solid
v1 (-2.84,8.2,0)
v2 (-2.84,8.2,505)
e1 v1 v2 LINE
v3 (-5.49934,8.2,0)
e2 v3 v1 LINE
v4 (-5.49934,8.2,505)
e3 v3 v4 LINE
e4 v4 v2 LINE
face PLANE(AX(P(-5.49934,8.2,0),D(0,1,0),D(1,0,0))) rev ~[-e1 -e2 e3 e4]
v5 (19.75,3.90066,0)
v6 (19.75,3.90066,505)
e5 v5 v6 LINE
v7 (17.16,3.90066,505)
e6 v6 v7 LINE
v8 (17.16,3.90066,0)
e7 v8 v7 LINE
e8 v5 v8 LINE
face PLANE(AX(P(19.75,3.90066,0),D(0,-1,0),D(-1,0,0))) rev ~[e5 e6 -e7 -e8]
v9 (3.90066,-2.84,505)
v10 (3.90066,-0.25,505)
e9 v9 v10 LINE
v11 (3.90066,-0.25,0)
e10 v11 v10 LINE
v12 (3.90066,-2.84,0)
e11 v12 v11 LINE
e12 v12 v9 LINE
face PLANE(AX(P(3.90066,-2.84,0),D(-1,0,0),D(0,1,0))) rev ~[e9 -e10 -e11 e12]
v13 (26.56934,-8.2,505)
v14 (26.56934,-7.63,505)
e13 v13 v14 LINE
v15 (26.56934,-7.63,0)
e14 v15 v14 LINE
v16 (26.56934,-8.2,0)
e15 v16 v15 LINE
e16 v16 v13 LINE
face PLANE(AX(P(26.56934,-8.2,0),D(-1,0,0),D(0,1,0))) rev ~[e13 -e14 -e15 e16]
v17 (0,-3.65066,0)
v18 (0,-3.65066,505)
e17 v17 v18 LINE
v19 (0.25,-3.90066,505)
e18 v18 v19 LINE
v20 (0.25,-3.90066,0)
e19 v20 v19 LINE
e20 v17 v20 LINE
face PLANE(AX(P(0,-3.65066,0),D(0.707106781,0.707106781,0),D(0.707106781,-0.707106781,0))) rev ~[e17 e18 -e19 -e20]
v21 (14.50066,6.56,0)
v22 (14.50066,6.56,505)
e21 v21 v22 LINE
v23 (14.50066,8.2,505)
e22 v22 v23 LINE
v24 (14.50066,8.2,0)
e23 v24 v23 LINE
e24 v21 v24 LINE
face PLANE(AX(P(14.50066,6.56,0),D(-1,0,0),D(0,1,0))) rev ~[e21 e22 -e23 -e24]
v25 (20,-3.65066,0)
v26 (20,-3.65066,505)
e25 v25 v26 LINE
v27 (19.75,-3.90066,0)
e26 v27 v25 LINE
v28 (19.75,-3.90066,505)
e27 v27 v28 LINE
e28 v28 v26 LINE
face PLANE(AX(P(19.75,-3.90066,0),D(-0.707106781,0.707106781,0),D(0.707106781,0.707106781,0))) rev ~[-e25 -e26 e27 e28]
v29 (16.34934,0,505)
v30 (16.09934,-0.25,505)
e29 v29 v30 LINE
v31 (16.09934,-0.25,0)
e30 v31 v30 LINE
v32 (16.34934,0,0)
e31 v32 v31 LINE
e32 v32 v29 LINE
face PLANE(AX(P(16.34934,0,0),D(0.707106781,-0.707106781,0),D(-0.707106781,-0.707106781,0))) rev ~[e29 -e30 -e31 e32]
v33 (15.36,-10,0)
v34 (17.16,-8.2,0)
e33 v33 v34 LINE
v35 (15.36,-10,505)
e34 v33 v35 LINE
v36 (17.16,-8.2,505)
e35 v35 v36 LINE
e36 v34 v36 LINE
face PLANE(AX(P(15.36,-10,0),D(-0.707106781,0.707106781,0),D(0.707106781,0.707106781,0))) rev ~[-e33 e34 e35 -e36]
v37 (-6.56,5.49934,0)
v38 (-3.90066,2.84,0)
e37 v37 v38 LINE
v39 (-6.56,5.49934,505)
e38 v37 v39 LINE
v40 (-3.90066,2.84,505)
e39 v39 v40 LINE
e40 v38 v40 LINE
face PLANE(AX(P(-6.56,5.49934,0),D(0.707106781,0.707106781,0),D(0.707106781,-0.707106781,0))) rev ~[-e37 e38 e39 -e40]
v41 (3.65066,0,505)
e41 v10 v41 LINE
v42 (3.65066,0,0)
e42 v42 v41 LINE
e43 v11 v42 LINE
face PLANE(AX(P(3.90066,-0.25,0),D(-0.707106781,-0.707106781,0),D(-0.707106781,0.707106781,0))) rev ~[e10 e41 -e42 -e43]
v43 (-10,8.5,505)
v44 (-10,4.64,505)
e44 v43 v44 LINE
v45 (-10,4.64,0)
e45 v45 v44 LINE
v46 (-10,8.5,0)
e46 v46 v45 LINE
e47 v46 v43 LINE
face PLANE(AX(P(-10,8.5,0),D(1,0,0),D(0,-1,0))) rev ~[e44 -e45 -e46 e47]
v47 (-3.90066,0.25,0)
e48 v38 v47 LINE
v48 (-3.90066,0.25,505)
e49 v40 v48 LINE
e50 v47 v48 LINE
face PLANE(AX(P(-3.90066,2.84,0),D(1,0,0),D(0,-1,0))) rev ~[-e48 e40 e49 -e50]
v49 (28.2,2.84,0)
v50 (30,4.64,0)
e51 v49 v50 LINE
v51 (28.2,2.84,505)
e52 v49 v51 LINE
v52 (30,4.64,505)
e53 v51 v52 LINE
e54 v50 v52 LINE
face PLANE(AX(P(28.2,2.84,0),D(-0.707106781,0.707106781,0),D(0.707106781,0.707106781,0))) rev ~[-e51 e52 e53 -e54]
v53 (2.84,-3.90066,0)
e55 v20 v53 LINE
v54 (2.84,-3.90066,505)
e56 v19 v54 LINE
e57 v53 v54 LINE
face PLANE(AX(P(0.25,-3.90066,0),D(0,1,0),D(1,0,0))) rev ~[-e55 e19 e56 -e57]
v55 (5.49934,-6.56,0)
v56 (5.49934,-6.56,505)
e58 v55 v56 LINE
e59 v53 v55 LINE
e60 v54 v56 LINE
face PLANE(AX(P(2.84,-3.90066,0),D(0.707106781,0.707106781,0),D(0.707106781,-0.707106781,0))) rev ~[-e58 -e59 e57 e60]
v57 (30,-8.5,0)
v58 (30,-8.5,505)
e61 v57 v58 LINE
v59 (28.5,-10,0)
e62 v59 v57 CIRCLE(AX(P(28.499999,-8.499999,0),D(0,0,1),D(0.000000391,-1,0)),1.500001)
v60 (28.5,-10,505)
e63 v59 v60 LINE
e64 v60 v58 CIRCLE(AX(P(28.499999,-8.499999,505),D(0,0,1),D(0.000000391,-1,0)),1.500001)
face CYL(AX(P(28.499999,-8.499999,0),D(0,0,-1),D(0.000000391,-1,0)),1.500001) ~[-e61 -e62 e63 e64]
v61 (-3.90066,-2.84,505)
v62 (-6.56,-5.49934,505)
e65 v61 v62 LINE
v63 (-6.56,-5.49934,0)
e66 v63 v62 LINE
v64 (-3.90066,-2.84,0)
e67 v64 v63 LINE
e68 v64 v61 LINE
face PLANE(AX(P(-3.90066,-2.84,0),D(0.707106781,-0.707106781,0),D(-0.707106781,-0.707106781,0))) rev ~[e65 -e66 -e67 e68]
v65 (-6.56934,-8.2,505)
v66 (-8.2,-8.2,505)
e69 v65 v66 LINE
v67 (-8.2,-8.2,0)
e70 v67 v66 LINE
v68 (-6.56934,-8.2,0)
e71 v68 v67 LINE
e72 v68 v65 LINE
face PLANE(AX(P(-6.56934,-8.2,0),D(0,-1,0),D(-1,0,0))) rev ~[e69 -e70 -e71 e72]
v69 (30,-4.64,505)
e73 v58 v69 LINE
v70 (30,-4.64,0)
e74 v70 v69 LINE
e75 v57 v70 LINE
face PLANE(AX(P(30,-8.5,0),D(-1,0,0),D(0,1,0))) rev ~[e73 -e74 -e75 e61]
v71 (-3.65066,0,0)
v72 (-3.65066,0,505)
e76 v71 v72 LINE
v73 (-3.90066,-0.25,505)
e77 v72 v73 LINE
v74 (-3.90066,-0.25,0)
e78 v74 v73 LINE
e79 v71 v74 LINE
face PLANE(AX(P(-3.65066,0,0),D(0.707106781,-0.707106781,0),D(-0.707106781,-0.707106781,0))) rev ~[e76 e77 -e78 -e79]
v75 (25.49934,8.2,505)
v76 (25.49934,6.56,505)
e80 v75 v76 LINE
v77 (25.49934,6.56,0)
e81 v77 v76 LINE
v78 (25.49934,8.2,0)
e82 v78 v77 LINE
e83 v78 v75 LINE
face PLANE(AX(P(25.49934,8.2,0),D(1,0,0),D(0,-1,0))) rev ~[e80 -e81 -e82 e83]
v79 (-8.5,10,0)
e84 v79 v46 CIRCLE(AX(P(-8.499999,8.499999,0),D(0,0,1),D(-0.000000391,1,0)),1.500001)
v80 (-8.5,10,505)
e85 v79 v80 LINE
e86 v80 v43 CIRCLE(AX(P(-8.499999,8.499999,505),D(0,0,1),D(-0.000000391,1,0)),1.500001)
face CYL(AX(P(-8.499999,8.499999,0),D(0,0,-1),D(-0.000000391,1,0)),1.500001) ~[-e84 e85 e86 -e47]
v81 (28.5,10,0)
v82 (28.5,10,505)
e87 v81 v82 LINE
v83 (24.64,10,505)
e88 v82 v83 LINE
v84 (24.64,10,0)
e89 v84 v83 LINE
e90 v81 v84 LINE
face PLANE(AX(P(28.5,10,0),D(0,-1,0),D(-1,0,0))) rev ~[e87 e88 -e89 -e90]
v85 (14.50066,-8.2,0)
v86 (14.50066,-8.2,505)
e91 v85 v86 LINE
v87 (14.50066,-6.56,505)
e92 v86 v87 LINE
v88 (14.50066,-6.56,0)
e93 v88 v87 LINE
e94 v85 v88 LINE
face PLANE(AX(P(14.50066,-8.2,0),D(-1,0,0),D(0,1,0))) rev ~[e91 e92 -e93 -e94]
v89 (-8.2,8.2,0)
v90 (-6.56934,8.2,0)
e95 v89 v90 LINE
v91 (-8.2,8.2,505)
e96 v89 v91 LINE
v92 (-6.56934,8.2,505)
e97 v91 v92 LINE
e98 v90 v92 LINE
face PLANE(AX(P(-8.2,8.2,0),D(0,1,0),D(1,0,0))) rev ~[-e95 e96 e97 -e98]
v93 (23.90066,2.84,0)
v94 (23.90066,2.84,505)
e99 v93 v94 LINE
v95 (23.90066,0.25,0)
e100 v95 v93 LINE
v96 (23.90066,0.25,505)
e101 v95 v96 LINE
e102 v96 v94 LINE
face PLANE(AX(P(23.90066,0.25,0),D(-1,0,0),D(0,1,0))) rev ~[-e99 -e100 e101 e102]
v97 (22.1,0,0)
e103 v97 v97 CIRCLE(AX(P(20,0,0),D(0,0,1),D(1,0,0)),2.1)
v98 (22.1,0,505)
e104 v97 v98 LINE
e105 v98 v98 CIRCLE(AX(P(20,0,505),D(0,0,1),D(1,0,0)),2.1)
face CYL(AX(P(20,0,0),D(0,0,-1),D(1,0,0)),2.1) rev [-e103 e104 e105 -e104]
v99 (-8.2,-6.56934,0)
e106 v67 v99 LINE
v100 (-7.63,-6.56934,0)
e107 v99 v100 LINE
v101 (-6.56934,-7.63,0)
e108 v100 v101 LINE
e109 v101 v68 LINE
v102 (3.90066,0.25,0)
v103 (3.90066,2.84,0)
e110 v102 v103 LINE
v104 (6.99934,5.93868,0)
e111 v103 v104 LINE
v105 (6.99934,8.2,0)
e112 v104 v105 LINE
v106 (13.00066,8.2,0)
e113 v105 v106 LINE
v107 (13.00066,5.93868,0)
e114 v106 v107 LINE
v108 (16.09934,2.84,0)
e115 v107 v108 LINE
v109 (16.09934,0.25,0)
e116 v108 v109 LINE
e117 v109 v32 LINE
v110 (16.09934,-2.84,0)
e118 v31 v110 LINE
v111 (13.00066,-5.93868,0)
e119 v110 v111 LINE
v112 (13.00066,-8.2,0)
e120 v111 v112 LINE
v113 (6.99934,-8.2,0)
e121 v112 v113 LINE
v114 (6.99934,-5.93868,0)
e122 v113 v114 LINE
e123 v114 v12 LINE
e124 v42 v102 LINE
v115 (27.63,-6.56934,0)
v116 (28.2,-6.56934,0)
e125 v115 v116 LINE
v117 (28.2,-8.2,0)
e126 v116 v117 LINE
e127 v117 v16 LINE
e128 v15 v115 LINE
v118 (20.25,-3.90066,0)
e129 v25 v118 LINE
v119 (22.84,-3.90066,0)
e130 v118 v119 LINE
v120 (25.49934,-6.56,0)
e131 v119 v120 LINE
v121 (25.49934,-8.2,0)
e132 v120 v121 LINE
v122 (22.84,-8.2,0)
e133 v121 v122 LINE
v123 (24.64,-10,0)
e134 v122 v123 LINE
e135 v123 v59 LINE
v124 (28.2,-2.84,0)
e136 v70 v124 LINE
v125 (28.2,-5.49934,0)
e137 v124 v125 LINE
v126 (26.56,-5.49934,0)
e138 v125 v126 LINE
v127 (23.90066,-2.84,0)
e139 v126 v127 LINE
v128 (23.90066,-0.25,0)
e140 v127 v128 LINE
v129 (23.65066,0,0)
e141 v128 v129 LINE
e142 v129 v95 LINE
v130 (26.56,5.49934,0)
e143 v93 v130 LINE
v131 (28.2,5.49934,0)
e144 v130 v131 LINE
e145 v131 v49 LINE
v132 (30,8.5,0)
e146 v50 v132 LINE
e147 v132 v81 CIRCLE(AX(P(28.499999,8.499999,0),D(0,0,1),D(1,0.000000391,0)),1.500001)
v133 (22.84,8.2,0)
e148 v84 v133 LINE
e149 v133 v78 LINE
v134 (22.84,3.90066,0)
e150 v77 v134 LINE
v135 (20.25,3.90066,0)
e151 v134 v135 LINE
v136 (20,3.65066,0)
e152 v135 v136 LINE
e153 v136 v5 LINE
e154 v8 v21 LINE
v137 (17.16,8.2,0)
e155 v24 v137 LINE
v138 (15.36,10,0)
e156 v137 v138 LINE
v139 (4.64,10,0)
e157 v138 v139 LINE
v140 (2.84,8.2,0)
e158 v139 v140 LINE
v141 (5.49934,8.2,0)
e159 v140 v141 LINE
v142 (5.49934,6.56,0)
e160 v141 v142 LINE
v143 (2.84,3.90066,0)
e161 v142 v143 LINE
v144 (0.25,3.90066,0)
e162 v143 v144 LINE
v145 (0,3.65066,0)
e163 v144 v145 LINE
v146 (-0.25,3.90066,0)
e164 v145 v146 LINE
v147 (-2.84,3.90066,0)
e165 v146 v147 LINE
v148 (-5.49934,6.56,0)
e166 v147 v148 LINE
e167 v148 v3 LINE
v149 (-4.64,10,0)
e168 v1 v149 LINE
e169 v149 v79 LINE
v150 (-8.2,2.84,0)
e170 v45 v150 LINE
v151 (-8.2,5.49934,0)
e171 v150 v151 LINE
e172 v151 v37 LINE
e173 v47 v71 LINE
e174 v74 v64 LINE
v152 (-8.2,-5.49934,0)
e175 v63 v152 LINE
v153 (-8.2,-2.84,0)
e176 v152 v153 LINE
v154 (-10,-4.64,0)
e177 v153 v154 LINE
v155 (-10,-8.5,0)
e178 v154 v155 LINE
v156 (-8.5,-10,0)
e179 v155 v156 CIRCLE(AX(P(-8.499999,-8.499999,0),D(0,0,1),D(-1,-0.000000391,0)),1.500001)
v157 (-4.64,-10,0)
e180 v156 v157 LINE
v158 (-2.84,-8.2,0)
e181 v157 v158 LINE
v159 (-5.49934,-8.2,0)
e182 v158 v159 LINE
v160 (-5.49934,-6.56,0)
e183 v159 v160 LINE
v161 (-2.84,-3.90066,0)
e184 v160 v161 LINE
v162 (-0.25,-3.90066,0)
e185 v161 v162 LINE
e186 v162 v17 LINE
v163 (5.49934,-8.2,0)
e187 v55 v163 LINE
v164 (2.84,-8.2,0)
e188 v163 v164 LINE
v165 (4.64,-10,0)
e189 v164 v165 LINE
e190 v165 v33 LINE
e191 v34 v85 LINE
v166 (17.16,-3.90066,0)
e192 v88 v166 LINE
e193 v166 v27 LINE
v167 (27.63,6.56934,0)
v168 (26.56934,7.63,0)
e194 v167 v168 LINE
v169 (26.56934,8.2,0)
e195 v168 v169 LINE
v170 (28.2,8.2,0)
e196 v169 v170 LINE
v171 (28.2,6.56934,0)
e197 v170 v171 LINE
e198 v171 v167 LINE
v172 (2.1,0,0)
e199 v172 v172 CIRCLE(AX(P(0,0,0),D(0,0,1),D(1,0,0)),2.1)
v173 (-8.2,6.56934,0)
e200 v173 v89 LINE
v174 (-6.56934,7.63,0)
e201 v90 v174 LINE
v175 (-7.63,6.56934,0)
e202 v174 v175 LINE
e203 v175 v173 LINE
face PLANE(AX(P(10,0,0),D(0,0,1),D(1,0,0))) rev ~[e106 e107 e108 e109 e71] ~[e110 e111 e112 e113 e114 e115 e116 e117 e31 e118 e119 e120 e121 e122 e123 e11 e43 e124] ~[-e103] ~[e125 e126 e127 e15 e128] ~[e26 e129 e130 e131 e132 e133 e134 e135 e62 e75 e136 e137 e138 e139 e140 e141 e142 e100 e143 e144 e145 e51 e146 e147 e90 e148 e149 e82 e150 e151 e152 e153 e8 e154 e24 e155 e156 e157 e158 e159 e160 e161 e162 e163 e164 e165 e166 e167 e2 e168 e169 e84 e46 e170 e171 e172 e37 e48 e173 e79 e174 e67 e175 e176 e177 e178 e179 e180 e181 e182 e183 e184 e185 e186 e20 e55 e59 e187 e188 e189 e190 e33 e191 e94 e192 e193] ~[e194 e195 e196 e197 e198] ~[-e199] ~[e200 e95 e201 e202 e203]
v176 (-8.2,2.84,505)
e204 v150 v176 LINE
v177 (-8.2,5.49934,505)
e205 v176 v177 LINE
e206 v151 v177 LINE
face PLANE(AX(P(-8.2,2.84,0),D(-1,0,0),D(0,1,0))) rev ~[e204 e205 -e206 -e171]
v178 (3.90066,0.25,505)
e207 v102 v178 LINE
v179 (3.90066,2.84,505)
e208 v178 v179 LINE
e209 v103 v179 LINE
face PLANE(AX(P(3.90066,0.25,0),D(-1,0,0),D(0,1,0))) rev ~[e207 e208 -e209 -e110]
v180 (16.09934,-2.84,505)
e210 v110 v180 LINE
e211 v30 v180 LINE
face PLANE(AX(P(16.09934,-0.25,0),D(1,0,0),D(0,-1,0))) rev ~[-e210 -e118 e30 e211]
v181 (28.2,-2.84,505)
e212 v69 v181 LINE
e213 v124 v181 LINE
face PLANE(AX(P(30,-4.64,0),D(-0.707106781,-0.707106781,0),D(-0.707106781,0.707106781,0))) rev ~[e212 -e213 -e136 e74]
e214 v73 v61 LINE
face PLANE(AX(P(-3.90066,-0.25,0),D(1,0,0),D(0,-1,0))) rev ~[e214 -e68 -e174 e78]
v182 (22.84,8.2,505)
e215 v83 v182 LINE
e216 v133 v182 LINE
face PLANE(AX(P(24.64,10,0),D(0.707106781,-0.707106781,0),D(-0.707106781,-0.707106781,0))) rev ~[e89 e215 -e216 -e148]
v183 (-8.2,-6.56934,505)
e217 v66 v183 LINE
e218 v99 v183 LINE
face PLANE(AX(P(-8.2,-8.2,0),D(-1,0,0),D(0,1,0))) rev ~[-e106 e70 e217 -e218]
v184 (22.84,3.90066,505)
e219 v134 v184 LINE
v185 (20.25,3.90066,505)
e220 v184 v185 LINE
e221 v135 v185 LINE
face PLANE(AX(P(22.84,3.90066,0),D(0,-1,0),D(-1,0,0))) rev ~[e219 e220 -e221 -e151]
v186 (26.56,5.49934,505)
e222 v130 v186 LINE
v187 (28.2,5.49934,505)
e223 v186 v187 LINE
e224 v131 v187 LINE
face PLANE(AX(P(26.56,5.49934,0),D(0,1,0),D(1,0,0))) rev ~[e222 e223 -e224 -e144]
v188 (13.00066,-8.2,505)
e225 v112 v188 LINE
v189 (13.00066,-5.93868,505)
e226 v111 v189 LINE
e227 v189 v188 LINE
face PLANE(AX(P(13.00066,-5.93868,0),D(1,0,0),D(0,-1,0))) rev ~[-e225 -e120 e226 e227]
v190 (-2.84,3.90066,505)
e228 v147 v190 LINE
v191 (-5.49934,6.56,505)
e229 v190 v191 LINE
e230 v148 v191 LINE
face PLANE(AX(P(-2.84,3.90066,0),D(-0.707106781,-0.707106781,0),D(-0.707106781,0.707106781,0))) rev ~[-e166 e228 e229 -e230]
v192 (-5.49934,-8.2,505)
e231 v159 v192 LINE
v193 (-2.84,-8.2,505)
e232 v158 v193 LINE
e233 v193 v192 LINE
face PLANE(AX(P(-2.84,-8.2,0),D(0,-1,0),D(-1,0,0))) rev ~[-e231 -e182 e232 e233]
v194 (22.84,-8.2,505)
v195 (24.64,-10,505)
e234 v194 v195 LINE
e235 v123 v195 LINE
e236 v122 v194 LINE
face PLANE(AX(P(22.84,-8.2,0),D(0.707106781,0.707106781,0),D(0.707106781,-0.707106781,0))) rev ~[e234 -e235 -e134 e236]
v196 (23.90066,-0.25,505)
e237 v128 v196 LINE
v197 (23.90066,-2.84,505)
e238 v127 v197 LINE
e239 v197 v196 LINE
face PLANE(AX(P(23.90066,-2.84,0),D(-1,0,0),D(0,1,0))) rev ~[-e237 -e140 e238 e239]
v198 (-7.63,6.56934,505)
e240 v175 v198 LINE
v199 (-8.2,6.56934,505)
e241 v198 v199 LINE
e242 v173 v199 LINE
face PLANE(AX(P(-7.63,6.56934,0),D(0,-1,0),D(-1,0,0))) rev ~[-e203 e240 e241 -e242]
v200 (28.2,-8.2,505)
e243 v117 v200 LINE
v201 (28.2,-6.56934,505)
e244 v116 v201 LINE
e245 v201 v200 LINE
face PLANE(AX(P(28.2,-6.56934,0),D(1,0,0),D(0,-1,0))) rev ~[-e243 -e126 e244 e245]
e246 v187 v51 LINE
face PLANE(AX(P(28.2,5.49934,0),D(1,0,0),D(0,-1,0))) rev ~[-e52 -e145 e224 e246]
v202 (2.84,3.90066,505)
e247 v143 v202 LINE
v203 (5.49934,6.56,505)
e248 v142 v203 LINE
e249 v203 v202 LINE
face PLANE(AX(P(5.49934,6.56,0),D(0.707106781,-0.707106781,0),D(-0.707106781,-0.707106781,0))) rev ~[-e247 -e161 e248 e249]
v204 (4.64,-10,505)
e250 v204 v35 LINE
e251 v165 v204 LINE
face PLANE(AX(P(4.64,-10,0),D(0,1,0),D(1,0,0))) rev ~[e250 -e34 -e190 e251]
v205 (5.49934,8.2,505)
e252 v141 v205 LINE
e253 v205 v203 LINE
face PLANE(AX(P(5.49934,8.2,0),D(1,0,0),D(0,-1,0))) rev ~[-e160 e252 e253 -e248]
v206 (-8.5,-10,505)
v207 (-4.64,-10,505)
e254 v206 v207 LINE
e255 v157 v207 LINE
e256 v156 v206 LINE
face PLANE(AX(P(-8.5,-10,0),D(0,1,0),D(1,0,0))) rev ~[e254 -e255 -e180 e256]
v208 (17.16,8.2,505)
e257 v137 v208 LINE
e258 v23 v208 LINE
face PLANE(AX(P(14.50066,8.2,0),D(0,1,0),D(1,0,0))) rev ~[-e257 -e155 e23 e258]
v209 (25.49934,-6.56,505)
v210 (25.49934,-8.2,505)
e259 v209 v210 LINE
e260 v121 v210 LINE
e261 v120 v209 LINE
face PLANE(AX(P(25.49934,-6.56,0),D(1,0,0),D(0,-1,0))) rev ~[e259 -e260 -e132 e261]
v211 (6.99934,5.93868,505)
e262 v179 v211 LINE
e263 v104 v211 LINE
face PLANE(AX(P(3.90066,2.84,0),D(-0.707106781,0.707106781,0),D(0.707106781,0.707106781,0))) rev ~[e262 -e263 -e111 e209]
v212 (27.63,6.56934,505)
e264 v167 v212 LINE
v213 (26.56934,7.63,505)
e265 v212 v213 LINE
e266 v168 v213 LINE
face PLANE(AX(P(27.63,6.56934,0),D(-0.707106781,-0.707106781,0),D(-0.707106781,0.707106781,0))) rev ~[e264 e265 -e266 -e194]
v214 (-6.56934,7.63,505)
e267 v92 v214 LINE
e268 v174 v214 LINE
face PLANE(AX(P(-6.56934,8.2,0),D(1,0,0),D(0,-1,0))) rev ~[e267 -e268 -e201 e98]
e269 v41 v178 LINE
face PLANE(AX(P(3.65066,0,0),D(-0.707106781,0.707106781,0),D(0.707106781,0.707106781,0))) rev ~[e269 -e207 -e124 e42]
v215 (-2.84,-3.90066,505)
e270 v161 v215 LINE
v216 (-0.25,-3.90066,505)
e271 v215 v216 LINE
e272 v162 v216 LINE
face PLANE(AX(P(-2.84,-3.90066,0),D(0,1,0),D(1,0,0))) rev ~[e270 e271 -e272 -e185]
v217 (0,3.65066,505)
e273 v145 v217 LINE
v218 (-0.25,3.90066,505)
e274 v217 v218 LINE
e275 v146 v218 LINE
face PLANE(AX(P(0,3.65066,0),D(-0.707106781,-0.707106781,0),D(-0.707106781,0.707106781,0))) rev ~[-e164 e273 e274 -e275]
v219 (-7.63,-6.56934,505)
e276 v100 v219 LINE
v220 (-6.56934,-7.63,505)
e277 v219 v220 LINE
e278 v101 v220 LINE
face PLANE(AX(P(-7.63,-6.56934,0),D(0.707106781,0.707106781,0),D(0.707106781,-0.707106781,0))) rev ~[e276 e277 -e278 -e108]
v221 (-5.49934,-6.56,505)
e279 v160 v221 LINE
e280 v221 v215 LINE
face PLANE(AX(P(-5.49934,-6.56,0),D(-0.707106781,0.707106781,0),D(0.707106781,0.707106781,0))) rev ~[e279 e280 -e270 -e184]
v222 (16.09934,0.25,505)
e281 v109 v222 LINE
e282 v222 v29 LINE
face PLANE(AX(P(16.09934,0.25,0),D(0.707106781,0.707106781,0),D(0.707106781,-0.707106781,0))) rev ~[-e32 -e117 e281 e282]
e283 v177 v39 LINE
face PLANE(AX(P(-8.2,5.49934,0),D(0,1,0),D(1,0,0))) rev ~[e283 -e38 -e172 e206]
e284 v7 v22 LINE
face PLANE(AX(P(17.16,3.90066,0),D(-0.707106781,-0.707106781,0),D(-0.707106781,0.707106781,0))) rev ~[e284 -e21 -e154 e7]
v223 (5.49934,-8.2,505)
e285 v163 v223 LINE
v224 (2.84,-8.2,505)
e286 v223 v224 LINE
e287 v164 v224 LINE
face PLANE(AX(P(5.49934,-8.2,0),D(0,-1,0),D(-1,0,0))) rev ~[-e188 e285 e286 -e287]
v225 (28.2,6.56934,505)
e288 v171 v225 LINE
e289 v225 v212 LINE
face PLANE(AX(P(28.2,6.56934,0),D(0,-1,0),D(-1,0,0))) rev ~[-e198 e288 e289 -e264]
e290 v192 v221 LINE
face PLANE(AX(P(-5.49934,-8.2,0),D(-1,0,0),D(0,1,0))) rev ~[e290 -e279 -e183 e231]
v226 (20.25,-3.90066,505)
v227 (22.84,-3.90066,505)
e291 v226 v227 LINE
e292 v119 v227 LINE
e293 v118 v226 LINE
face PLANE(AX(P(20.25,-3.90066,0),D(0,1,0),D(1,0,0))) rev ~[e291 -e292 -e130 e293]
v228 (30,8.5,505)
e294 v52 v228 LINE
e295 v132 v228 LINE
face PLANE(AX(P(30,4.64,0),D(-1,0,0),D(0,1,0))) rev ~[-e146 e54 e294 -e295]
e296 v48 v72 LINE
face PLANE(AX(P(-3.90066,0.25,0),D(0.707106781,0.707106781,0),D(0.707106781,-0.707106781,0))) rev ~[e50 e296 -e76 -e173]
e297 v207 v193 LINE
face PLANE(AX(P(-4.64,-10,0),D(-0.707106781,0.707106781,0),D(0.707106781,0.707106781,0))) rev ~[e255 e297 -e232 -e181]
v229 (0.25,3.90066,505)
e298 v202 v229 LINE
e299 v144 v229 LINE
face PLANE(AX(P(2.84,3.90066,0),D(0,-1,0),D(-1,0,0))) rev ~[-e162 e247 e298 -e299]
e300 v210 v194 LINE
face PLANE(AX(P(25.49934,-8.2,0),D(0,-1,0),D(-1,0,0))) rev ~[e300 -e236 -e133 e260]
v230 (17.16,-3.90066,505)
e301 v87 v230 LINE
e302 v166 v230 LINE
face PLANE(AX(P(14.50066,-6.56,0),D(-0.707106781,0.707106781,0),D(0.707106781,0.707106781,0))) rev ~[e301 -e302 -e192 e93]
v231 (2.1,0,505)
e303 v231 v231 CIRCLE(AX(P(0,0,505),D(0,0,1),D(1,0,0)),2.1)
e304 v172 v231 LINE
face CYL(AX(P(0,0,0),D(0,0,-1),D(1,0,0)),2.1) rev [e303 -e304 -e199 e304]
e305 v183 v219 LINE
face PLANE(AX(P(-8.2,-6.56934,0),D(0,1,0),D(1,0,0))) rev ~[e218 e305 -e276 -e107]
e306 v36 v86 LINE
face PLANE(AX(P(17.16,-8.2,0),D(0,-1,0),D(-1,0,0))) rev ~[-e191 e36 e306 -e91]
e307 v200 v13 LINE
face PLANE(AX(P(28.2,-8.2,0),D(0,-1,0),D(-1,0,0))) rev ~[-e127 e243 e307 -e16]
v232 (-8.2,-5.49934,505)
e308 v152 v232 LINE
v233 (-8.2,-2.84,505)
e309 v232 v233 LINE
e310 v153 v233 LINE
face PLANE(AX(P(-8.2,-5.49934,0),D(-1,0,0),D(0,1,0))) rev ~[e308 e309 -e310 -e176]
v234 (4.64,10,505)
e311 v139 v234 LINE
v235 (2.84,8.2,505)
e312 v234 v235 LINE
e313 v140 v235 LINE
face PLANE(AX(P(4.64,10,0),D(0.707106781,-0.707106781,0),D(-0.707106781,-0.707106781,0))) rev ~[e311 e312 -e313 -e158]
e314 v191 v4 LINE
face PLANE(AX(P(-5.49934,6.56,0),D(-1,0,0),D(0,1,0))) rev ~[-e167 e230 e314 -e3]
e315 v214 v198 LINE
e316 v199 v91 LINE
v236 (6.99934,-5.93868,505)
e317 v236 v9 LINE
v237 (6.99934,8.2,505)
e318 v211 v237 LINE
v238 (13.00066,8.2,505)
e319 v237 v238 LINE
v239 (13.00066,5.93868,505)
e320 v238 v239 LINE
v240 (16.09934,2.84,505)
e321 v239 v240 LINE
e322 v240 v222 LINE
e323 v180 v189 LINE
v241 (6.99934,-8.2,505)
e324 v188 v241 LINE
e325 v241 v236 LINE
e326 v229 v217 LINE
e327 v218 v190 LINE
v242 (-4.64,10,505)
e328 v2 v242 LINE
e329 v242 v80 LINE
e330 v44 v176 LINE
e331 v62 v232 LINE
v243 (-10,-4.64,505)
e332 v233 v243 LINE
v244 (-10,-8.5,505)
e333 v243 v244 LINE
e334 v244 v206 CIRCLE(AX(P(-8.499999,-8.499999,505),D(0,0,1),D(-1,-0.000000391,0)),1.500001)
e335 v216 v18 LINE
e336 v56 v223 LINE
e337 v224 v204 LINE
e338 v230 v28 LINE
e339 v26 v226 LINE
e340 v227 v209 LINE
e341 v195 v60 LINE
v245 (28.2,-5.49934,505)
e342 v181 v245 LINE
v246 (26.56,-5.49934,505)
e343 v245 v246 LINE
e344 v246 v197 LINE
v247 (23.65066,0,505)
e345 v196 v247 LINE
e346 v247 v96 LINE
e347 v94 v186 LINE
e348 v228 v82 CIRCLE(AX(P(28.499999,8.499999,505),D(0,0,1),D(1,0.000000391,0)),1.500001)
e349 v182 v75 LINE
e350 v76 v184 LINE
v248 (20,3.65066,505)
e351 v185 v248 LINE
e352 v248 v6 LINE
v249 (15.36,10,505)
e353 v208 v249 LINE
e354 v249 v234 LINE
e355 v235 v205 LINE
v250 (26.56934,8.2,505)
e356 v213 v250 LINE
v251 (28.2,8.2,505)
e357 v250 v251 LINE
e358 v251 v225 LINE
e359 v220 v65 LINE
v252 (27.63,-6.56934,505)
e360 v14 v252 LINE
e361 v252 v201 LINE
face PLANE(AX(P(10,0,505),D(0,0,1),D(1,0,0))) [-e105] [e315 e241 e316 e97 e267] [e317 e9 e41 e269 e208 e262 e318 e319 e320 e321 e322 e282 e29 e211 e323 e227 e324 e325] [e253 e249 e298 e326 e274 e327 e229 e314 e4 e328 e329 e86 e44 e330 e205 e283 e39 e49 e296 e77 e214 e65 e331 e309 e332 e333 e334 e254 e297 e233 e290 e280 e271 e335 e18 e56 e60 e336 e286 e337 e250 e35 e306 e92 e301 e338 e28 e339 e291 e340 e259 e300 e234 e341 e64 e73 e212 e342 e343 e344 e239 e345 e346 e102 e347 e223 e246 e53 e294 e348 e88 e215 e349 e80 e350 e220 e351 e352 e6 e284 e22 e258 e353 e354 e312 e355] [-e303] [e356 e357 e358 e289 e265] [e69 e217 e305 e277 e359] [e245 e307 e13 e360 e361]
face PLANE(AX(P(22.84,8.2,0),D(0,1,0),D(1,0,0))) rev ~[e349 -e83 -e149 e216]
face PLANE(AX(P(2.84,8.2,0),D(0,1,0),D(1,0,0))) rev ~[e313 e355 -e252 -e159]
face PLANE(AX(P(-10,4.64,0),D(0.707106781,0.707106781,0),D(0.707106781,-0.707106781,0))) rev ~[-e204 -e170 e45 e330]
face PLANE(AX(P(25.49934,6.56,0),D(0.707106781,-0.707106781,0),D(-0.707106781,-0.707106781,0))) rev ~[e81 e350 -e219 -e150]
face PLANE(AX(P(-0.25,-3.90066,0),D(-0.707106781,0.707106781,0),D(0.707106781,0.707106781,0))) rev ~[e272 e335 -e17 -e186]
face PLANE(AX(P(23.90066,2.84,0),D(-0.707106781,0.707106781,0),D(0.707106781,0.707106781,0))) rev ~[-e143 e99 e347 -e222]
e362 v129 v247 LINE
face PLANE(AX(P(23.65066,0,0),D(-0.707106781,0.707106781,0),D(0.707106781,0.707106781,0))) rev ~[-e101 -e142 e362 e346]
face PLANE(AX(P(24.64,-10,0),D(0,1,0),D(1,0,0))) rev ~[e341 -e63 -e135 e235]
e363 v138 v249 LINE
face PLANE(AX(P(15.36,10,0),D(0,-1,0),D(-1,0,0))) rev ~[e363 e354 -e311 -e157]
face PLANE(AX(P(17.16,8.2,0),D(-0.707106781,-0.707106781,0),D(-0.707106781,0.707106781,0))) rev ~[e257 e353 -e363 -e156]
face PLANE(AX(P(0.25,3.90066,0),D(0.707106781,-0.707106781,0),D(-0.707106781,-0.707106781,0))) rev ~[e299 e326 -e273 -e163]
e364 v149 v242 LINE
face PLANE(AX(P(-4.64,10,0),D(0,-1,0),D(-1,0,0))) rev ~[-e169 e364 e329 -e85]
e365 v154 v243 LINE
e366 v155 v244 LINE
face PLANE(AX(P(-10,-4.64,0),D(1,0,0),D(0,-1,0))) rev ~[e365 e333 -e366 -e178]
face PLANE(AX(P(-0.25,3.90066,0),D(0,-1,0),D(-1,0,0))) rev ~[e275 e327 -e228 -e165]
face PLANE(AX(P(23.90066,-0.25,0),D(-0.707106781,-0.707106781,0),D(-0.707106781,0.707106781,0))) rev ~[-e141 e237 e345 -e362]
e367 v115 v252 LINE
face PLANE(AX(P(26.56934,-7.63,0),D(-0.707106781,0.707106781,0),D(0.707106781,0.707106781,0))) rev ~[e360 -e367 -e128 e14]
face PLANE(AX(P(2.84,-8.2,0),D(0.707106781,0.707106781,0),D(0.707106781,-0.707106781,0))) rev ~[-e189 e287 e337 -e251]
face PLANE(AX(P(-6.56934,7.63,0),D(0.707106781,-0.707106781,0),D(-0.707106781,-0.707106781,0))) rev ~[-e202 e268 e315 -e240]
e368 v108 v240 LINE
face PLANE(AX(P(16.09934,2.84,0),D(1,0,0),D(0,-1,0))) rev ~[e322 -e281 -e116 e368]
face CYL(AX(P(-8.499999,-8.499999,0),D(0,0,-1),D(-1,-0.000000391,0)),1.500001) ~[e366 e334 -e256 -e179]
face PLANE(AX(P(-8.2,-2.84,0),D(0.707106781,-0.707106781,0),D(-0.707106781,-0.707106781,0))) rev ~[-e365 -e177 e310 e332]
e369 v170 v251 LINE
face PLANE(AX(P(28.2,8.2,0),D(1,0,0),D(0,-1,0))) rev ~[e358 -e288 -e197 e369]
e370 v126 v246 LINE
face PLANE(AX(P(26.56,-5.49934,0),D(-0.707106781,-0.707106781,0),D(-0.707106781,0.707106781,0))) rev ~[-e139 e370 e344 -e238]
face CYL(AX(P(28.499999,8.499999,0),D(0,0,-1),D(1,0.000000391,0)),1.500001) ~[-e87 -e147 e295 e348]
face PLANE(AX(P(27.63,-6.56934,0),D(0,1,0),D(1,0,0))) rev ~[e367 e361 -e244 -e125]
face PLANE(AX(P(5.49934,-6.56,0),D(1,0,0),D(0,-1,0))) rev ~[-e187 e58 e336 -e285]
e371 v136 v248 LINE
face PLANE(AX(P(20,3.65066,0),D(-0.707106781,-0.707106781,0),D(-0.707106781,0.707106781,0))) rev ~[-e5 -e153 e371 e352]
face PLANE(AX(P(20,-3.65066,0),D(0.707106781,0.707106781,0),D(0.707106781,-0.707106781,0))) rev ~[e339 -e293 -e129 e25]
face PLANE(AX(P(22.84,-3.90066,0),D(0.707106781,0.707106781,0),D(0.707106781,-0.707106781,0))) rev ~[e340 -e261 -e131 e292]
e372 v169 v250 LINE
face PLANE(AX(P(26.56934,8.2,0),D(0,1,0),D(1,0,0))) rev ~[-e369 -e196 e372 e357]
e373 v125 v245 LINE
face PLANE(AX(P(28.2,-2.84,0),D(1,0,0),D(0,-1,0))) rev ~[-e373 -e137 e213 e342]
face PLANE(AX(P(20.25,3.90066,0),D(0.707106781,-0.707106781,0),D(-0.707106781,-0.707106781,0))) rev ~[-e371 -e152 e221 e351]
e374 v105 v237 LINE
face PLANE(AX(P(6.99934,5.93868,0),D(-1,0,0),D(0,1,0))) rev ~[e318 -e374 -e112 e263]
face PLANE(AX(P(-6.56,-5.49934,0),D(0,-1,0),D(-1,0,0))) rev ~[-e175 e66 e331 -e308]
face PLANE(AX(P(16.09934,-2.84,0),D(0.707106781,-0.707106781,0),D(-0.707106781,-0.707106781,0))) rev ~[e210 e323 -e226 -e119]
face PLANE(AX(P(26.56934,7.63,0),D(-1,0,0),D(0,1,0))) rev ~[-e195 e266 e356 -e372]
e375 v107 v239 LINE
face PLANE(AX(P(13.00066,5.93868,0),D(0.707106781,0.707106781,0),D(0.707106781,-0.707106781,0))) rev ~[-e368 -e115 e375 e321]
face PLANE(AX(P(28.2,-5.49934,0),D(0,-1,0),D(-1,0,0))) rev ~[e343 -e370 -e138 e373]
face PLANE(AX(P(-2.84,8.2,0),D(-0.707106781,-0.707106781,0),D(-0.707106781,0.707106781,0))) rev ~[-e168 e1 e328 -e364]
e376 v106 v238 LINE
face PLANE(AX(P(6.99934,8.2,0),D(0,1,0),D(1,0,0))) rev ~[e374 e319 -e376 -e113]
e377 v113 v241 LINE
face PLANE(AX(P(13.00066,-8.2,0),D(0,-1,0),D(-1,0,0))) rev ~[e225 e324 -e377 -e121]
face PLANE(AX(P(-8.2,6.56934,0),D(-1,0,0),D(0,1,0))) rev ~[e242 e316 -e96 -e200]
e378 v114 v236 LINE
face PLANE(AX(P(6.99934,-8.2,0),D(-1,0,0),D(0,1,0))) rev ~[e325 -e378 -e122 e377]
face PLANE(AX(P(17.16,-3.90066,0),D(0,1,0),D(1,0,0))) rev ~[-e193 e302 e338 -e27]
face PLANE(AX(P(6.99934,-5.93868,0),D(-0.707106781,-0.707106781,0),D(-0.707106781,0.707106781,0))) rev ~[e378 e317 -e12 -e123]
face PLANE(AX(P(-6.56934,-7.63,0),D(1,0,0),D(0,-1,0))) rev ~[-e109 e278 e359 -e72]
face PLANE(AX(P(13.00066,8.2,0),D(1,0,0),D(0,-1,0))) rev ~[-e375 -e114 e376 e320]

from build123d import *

# Parameters (mm, degrees)
F0_R     = 2.1
F1_DEPTH = 505


with BuildPart() as f1:
    # F0 (on Top) → F1 (new body)
    with BuildSketch(Plane.XY):
        with BuildLine():
            Line((4.64, -10), (8.5, -10))
            Line((8.5, -10), (11.5, -10))
            Line((11.5, -10), (15.36, -10))
            Line((15.36, -10), (17.16, -8.2))
            Line((17.16, -8.2), (14.50066, -8.2))
            Line((14.50066, -8.2), (14.50066, -6.56))
            Line((14.50066, -6.56), (17.16, -3.90066))
            Line((17.16, -3.90066), (19.75, -3.90066))
            Line((19.75, -3.90066), (20, -3.65066))
            Line((20, -3.65066), (20.25, -3.90066))
            Line((20.25, -3.90066), (22.84, -3.90066))
            Line((22.84, -3.90066), (25.49934, -6.56))
            Line((25.49934, -6.56), (25.49934, -8.2))
            Line((25.49934, -8.2), (22.84, -8.2))
            Line((22.84, -8.2), (24.64, -10))
            Line((24.64, -10), (28.5, -10))
            ThreePointArc((28.5, -10), (29.56066, -9.56066), (30, -8.5))
            Line((30, -8.5), (30, -4.64))
            Line((30, -4.64), (28.2, -2.84))
            Line((28.2, -2.84), (28.2, -5.49934))
            Line((28.2, -5.49934), (26.56, -5.49934))
            Line((26.56, -5.49934), (23.90066, -2.84))
            Line((23.90066, -2.84), (23.90066, -0.25))
            Line((23.90066, -0.25), (23.65066, 0))
            Line((23.65066, 0), (23.90066, 0.25))
            Line((23.90066, 0.25), (23.90066, 2.84))
            Line((23.90066, 2.84), (26.56, 5.49934))
            Line((26.56, 5.49934), (28.2, 5.49934))
            Line((28.2, 5.49934), (28.2, 2.84))
            Line((28.2, 2.84), (30, 4.64))
            Line((30, 4.64), (30, 8.5))
            ThreePointArc((30, 8.5), (29.56066, 9.56066), (28.5, 10))
            Line((28.5, 10), (24.64, 10))
            Line((24.64, 10), (22.84, 8.2))
            Line((22.84, 8.2), (25.49934, 8.2))
            Line((25.49934, 8.2), (25.49934, 6.56))
            Line((25.49934, 6.56), (22.84, 3.90066))
            Line((22.84, 3.90066), (20.25, 3.90066))
            Line((20.25, 3.90066), (20, 3.65066))
            Line((20, 3.65066), (19.75, 3.90066))
            Line((19.75, 3.90066), (17.16, 3.90066))
            Line((17.16, 3.90066), (14.50066, 6.56))
            Line((14.50066, 6.56), (14.50066, 8.2))
            Line((14.50066, 8.2), (17.16, 8.2))
            Line((17.16, 8.2), (15.36, 10))
            Line((15.36, 10), (11.5, 10))
            Line((11.5, 10), (8.5, 10))
            Line((8.5, 10), (4.64, 10))
            Line((4.64, 10), (2.84, 8.2))
            Line((2.84, 8.2), (5.49934, 8.2))
            Line((5.49934, 8.2), (5.49934, 6.56))
            Line((5.49934, 6.56), (2.84, 3.90066))
            Line((2.84, 3.90066), (0.25, 3.90066))
            Line((0.25, 3.90066), (0, 3.65066))
            Line((0, 3.65066), (-0.25, 3.90066))
            Line((-0.25, 3.90066), (-2.84, 3.90066))
            Line((-2.84, 3.90066), (-5.49934, 6.56))
            Line((-5.49934, 6.56), (-5.49934, 8.2))
            Line((-5.49934, 8.2), (-2.84, 8.2))
            Line((-2.84, 8.2), (-4.64, 10))
            Line((-4.64, 10), (-8.5, 10))
            ThreePointArc((-8.5, 10), (-9.56066, 9.56066), (-10, 8.5))
            Line((-10, 8.5), (-10, 4.64))
            Line((-10, 4.64), (-8.2, 2.84))
            Line((-8.2, 2.84), (-8.2, 5.49934))
            Line((-8.2, 5.49934), (-6.56, 5.49934))
            Line((-6.56, 5.49934), (-3.90066, 2.84))
            Line((-3.90066, 2.84), (-3.90066, 0.25))
            Line((-3.90066, 0.25), (-3.65066, 0))
            Line((-3.65066, 0), (-3.90066, -0.25))
            Line((-3.90066, -0.25), (-3.90066, -2.84))
            Line((-3.90066, -2.84), (-6.56, -5.49934))
            Line((-6.56, -5.49934), (-8.2, -5.49934))
            Line((-8.2, -5.49934), (-8.2, -2.84))
            Line((-8.2, -2.84), (-10, -4.64))
            Line((-10, -4.64), (-10, -8.5))
            ThreePointArc((-10, -8.5), (-9.56066, -9.56066), (-8.5, -10))
            Line((-8.5, -10), (-4.64, -10))
            Line((-4.64, -10), (-2.84, -8.2))
            Line((-2.84, -8.2), (-5.49934, -8.2))
            Line((-5.49934, -8.2), (-5.49934, -6.56))
            Line((-5.49934, -6.56), (-2.84, -3.90066))
            Line((-2.84, -3.90066), (-0.25, -3.90066))
            Line((-0.25, -3.90066), (0, -3.65066))
            Line((0, -3.65066), (0.25, -3.90066))
            Line((0.25, -3.90066), (2.84, -3.90066))
            Line((2.84, -3.90066), (5.49934, -6.56))
            Line((5.49934, -6.56), (5.49934, -8.2))
            Line((5.49934, -8.2), (2.84, -8.2))
            Line((2.84, -8.2), (4.64, -10))
        make_face()
        Polygon((-6.56934, -7.63), (-6.56934, -8.2), (-8.2, -8.2), (-8.2, -6.56934), (-7.63, -6.56934), align=None, mode=Mode.SUBTRACT)
        Polygon((27.63, -6.56934), (28.2, -6.56934), (28.2, -8.2), (26.56934, -8.2), (26.56934, -7.63), align=None, mode=Mode.SUBTRACT)
        Circle(F0_R, mode=Mode.SUBTRACT)
        Polygon((-7.63, 6.56934), (-8.2, 6.56934), (-8.2, 8.2), (-6.56934, 8.2), (-6.56934, 7.63), align=None, mode=Mode.SUBTRACT)
        Polygon((3.90066, 2.84), (6.56, 5.49934), (6.99934, 5.93868), (6.99934, 8.2), (13.00066, 8.2), (13.00066, 5.93868), (13.44, 5.49934), (16.09934, 2.84), (16.09934, 0.25), (16.34934, 0), (16.09934, -0.25), (16.09934, -2.84), (13.44, -5.49934), (13.00066, -5.93868), (13.00066, -8.2), (6.99934, -8.2), (6.99934, -5.93868), (6.56, -5.49934), (3.90066, -2.84), (3.90066, -0.25), (3.65066, 0), (3.90066, 0.25), align=None, mode=Mode.SUBTRACT)
        with Locations((20, 0)):
            Circle(F0_R, mode=Mode.SUBTRACT)
        Polygon((28.2, 8.2), (28.2, 6.56934), (27.63, 6.56934), (26.56934, 7.63), (26.56934, 8.2), align=None, mode=Mode.SUBTRACT)
    extrude(amount=F1_DEPTH)


solid = f1.part
